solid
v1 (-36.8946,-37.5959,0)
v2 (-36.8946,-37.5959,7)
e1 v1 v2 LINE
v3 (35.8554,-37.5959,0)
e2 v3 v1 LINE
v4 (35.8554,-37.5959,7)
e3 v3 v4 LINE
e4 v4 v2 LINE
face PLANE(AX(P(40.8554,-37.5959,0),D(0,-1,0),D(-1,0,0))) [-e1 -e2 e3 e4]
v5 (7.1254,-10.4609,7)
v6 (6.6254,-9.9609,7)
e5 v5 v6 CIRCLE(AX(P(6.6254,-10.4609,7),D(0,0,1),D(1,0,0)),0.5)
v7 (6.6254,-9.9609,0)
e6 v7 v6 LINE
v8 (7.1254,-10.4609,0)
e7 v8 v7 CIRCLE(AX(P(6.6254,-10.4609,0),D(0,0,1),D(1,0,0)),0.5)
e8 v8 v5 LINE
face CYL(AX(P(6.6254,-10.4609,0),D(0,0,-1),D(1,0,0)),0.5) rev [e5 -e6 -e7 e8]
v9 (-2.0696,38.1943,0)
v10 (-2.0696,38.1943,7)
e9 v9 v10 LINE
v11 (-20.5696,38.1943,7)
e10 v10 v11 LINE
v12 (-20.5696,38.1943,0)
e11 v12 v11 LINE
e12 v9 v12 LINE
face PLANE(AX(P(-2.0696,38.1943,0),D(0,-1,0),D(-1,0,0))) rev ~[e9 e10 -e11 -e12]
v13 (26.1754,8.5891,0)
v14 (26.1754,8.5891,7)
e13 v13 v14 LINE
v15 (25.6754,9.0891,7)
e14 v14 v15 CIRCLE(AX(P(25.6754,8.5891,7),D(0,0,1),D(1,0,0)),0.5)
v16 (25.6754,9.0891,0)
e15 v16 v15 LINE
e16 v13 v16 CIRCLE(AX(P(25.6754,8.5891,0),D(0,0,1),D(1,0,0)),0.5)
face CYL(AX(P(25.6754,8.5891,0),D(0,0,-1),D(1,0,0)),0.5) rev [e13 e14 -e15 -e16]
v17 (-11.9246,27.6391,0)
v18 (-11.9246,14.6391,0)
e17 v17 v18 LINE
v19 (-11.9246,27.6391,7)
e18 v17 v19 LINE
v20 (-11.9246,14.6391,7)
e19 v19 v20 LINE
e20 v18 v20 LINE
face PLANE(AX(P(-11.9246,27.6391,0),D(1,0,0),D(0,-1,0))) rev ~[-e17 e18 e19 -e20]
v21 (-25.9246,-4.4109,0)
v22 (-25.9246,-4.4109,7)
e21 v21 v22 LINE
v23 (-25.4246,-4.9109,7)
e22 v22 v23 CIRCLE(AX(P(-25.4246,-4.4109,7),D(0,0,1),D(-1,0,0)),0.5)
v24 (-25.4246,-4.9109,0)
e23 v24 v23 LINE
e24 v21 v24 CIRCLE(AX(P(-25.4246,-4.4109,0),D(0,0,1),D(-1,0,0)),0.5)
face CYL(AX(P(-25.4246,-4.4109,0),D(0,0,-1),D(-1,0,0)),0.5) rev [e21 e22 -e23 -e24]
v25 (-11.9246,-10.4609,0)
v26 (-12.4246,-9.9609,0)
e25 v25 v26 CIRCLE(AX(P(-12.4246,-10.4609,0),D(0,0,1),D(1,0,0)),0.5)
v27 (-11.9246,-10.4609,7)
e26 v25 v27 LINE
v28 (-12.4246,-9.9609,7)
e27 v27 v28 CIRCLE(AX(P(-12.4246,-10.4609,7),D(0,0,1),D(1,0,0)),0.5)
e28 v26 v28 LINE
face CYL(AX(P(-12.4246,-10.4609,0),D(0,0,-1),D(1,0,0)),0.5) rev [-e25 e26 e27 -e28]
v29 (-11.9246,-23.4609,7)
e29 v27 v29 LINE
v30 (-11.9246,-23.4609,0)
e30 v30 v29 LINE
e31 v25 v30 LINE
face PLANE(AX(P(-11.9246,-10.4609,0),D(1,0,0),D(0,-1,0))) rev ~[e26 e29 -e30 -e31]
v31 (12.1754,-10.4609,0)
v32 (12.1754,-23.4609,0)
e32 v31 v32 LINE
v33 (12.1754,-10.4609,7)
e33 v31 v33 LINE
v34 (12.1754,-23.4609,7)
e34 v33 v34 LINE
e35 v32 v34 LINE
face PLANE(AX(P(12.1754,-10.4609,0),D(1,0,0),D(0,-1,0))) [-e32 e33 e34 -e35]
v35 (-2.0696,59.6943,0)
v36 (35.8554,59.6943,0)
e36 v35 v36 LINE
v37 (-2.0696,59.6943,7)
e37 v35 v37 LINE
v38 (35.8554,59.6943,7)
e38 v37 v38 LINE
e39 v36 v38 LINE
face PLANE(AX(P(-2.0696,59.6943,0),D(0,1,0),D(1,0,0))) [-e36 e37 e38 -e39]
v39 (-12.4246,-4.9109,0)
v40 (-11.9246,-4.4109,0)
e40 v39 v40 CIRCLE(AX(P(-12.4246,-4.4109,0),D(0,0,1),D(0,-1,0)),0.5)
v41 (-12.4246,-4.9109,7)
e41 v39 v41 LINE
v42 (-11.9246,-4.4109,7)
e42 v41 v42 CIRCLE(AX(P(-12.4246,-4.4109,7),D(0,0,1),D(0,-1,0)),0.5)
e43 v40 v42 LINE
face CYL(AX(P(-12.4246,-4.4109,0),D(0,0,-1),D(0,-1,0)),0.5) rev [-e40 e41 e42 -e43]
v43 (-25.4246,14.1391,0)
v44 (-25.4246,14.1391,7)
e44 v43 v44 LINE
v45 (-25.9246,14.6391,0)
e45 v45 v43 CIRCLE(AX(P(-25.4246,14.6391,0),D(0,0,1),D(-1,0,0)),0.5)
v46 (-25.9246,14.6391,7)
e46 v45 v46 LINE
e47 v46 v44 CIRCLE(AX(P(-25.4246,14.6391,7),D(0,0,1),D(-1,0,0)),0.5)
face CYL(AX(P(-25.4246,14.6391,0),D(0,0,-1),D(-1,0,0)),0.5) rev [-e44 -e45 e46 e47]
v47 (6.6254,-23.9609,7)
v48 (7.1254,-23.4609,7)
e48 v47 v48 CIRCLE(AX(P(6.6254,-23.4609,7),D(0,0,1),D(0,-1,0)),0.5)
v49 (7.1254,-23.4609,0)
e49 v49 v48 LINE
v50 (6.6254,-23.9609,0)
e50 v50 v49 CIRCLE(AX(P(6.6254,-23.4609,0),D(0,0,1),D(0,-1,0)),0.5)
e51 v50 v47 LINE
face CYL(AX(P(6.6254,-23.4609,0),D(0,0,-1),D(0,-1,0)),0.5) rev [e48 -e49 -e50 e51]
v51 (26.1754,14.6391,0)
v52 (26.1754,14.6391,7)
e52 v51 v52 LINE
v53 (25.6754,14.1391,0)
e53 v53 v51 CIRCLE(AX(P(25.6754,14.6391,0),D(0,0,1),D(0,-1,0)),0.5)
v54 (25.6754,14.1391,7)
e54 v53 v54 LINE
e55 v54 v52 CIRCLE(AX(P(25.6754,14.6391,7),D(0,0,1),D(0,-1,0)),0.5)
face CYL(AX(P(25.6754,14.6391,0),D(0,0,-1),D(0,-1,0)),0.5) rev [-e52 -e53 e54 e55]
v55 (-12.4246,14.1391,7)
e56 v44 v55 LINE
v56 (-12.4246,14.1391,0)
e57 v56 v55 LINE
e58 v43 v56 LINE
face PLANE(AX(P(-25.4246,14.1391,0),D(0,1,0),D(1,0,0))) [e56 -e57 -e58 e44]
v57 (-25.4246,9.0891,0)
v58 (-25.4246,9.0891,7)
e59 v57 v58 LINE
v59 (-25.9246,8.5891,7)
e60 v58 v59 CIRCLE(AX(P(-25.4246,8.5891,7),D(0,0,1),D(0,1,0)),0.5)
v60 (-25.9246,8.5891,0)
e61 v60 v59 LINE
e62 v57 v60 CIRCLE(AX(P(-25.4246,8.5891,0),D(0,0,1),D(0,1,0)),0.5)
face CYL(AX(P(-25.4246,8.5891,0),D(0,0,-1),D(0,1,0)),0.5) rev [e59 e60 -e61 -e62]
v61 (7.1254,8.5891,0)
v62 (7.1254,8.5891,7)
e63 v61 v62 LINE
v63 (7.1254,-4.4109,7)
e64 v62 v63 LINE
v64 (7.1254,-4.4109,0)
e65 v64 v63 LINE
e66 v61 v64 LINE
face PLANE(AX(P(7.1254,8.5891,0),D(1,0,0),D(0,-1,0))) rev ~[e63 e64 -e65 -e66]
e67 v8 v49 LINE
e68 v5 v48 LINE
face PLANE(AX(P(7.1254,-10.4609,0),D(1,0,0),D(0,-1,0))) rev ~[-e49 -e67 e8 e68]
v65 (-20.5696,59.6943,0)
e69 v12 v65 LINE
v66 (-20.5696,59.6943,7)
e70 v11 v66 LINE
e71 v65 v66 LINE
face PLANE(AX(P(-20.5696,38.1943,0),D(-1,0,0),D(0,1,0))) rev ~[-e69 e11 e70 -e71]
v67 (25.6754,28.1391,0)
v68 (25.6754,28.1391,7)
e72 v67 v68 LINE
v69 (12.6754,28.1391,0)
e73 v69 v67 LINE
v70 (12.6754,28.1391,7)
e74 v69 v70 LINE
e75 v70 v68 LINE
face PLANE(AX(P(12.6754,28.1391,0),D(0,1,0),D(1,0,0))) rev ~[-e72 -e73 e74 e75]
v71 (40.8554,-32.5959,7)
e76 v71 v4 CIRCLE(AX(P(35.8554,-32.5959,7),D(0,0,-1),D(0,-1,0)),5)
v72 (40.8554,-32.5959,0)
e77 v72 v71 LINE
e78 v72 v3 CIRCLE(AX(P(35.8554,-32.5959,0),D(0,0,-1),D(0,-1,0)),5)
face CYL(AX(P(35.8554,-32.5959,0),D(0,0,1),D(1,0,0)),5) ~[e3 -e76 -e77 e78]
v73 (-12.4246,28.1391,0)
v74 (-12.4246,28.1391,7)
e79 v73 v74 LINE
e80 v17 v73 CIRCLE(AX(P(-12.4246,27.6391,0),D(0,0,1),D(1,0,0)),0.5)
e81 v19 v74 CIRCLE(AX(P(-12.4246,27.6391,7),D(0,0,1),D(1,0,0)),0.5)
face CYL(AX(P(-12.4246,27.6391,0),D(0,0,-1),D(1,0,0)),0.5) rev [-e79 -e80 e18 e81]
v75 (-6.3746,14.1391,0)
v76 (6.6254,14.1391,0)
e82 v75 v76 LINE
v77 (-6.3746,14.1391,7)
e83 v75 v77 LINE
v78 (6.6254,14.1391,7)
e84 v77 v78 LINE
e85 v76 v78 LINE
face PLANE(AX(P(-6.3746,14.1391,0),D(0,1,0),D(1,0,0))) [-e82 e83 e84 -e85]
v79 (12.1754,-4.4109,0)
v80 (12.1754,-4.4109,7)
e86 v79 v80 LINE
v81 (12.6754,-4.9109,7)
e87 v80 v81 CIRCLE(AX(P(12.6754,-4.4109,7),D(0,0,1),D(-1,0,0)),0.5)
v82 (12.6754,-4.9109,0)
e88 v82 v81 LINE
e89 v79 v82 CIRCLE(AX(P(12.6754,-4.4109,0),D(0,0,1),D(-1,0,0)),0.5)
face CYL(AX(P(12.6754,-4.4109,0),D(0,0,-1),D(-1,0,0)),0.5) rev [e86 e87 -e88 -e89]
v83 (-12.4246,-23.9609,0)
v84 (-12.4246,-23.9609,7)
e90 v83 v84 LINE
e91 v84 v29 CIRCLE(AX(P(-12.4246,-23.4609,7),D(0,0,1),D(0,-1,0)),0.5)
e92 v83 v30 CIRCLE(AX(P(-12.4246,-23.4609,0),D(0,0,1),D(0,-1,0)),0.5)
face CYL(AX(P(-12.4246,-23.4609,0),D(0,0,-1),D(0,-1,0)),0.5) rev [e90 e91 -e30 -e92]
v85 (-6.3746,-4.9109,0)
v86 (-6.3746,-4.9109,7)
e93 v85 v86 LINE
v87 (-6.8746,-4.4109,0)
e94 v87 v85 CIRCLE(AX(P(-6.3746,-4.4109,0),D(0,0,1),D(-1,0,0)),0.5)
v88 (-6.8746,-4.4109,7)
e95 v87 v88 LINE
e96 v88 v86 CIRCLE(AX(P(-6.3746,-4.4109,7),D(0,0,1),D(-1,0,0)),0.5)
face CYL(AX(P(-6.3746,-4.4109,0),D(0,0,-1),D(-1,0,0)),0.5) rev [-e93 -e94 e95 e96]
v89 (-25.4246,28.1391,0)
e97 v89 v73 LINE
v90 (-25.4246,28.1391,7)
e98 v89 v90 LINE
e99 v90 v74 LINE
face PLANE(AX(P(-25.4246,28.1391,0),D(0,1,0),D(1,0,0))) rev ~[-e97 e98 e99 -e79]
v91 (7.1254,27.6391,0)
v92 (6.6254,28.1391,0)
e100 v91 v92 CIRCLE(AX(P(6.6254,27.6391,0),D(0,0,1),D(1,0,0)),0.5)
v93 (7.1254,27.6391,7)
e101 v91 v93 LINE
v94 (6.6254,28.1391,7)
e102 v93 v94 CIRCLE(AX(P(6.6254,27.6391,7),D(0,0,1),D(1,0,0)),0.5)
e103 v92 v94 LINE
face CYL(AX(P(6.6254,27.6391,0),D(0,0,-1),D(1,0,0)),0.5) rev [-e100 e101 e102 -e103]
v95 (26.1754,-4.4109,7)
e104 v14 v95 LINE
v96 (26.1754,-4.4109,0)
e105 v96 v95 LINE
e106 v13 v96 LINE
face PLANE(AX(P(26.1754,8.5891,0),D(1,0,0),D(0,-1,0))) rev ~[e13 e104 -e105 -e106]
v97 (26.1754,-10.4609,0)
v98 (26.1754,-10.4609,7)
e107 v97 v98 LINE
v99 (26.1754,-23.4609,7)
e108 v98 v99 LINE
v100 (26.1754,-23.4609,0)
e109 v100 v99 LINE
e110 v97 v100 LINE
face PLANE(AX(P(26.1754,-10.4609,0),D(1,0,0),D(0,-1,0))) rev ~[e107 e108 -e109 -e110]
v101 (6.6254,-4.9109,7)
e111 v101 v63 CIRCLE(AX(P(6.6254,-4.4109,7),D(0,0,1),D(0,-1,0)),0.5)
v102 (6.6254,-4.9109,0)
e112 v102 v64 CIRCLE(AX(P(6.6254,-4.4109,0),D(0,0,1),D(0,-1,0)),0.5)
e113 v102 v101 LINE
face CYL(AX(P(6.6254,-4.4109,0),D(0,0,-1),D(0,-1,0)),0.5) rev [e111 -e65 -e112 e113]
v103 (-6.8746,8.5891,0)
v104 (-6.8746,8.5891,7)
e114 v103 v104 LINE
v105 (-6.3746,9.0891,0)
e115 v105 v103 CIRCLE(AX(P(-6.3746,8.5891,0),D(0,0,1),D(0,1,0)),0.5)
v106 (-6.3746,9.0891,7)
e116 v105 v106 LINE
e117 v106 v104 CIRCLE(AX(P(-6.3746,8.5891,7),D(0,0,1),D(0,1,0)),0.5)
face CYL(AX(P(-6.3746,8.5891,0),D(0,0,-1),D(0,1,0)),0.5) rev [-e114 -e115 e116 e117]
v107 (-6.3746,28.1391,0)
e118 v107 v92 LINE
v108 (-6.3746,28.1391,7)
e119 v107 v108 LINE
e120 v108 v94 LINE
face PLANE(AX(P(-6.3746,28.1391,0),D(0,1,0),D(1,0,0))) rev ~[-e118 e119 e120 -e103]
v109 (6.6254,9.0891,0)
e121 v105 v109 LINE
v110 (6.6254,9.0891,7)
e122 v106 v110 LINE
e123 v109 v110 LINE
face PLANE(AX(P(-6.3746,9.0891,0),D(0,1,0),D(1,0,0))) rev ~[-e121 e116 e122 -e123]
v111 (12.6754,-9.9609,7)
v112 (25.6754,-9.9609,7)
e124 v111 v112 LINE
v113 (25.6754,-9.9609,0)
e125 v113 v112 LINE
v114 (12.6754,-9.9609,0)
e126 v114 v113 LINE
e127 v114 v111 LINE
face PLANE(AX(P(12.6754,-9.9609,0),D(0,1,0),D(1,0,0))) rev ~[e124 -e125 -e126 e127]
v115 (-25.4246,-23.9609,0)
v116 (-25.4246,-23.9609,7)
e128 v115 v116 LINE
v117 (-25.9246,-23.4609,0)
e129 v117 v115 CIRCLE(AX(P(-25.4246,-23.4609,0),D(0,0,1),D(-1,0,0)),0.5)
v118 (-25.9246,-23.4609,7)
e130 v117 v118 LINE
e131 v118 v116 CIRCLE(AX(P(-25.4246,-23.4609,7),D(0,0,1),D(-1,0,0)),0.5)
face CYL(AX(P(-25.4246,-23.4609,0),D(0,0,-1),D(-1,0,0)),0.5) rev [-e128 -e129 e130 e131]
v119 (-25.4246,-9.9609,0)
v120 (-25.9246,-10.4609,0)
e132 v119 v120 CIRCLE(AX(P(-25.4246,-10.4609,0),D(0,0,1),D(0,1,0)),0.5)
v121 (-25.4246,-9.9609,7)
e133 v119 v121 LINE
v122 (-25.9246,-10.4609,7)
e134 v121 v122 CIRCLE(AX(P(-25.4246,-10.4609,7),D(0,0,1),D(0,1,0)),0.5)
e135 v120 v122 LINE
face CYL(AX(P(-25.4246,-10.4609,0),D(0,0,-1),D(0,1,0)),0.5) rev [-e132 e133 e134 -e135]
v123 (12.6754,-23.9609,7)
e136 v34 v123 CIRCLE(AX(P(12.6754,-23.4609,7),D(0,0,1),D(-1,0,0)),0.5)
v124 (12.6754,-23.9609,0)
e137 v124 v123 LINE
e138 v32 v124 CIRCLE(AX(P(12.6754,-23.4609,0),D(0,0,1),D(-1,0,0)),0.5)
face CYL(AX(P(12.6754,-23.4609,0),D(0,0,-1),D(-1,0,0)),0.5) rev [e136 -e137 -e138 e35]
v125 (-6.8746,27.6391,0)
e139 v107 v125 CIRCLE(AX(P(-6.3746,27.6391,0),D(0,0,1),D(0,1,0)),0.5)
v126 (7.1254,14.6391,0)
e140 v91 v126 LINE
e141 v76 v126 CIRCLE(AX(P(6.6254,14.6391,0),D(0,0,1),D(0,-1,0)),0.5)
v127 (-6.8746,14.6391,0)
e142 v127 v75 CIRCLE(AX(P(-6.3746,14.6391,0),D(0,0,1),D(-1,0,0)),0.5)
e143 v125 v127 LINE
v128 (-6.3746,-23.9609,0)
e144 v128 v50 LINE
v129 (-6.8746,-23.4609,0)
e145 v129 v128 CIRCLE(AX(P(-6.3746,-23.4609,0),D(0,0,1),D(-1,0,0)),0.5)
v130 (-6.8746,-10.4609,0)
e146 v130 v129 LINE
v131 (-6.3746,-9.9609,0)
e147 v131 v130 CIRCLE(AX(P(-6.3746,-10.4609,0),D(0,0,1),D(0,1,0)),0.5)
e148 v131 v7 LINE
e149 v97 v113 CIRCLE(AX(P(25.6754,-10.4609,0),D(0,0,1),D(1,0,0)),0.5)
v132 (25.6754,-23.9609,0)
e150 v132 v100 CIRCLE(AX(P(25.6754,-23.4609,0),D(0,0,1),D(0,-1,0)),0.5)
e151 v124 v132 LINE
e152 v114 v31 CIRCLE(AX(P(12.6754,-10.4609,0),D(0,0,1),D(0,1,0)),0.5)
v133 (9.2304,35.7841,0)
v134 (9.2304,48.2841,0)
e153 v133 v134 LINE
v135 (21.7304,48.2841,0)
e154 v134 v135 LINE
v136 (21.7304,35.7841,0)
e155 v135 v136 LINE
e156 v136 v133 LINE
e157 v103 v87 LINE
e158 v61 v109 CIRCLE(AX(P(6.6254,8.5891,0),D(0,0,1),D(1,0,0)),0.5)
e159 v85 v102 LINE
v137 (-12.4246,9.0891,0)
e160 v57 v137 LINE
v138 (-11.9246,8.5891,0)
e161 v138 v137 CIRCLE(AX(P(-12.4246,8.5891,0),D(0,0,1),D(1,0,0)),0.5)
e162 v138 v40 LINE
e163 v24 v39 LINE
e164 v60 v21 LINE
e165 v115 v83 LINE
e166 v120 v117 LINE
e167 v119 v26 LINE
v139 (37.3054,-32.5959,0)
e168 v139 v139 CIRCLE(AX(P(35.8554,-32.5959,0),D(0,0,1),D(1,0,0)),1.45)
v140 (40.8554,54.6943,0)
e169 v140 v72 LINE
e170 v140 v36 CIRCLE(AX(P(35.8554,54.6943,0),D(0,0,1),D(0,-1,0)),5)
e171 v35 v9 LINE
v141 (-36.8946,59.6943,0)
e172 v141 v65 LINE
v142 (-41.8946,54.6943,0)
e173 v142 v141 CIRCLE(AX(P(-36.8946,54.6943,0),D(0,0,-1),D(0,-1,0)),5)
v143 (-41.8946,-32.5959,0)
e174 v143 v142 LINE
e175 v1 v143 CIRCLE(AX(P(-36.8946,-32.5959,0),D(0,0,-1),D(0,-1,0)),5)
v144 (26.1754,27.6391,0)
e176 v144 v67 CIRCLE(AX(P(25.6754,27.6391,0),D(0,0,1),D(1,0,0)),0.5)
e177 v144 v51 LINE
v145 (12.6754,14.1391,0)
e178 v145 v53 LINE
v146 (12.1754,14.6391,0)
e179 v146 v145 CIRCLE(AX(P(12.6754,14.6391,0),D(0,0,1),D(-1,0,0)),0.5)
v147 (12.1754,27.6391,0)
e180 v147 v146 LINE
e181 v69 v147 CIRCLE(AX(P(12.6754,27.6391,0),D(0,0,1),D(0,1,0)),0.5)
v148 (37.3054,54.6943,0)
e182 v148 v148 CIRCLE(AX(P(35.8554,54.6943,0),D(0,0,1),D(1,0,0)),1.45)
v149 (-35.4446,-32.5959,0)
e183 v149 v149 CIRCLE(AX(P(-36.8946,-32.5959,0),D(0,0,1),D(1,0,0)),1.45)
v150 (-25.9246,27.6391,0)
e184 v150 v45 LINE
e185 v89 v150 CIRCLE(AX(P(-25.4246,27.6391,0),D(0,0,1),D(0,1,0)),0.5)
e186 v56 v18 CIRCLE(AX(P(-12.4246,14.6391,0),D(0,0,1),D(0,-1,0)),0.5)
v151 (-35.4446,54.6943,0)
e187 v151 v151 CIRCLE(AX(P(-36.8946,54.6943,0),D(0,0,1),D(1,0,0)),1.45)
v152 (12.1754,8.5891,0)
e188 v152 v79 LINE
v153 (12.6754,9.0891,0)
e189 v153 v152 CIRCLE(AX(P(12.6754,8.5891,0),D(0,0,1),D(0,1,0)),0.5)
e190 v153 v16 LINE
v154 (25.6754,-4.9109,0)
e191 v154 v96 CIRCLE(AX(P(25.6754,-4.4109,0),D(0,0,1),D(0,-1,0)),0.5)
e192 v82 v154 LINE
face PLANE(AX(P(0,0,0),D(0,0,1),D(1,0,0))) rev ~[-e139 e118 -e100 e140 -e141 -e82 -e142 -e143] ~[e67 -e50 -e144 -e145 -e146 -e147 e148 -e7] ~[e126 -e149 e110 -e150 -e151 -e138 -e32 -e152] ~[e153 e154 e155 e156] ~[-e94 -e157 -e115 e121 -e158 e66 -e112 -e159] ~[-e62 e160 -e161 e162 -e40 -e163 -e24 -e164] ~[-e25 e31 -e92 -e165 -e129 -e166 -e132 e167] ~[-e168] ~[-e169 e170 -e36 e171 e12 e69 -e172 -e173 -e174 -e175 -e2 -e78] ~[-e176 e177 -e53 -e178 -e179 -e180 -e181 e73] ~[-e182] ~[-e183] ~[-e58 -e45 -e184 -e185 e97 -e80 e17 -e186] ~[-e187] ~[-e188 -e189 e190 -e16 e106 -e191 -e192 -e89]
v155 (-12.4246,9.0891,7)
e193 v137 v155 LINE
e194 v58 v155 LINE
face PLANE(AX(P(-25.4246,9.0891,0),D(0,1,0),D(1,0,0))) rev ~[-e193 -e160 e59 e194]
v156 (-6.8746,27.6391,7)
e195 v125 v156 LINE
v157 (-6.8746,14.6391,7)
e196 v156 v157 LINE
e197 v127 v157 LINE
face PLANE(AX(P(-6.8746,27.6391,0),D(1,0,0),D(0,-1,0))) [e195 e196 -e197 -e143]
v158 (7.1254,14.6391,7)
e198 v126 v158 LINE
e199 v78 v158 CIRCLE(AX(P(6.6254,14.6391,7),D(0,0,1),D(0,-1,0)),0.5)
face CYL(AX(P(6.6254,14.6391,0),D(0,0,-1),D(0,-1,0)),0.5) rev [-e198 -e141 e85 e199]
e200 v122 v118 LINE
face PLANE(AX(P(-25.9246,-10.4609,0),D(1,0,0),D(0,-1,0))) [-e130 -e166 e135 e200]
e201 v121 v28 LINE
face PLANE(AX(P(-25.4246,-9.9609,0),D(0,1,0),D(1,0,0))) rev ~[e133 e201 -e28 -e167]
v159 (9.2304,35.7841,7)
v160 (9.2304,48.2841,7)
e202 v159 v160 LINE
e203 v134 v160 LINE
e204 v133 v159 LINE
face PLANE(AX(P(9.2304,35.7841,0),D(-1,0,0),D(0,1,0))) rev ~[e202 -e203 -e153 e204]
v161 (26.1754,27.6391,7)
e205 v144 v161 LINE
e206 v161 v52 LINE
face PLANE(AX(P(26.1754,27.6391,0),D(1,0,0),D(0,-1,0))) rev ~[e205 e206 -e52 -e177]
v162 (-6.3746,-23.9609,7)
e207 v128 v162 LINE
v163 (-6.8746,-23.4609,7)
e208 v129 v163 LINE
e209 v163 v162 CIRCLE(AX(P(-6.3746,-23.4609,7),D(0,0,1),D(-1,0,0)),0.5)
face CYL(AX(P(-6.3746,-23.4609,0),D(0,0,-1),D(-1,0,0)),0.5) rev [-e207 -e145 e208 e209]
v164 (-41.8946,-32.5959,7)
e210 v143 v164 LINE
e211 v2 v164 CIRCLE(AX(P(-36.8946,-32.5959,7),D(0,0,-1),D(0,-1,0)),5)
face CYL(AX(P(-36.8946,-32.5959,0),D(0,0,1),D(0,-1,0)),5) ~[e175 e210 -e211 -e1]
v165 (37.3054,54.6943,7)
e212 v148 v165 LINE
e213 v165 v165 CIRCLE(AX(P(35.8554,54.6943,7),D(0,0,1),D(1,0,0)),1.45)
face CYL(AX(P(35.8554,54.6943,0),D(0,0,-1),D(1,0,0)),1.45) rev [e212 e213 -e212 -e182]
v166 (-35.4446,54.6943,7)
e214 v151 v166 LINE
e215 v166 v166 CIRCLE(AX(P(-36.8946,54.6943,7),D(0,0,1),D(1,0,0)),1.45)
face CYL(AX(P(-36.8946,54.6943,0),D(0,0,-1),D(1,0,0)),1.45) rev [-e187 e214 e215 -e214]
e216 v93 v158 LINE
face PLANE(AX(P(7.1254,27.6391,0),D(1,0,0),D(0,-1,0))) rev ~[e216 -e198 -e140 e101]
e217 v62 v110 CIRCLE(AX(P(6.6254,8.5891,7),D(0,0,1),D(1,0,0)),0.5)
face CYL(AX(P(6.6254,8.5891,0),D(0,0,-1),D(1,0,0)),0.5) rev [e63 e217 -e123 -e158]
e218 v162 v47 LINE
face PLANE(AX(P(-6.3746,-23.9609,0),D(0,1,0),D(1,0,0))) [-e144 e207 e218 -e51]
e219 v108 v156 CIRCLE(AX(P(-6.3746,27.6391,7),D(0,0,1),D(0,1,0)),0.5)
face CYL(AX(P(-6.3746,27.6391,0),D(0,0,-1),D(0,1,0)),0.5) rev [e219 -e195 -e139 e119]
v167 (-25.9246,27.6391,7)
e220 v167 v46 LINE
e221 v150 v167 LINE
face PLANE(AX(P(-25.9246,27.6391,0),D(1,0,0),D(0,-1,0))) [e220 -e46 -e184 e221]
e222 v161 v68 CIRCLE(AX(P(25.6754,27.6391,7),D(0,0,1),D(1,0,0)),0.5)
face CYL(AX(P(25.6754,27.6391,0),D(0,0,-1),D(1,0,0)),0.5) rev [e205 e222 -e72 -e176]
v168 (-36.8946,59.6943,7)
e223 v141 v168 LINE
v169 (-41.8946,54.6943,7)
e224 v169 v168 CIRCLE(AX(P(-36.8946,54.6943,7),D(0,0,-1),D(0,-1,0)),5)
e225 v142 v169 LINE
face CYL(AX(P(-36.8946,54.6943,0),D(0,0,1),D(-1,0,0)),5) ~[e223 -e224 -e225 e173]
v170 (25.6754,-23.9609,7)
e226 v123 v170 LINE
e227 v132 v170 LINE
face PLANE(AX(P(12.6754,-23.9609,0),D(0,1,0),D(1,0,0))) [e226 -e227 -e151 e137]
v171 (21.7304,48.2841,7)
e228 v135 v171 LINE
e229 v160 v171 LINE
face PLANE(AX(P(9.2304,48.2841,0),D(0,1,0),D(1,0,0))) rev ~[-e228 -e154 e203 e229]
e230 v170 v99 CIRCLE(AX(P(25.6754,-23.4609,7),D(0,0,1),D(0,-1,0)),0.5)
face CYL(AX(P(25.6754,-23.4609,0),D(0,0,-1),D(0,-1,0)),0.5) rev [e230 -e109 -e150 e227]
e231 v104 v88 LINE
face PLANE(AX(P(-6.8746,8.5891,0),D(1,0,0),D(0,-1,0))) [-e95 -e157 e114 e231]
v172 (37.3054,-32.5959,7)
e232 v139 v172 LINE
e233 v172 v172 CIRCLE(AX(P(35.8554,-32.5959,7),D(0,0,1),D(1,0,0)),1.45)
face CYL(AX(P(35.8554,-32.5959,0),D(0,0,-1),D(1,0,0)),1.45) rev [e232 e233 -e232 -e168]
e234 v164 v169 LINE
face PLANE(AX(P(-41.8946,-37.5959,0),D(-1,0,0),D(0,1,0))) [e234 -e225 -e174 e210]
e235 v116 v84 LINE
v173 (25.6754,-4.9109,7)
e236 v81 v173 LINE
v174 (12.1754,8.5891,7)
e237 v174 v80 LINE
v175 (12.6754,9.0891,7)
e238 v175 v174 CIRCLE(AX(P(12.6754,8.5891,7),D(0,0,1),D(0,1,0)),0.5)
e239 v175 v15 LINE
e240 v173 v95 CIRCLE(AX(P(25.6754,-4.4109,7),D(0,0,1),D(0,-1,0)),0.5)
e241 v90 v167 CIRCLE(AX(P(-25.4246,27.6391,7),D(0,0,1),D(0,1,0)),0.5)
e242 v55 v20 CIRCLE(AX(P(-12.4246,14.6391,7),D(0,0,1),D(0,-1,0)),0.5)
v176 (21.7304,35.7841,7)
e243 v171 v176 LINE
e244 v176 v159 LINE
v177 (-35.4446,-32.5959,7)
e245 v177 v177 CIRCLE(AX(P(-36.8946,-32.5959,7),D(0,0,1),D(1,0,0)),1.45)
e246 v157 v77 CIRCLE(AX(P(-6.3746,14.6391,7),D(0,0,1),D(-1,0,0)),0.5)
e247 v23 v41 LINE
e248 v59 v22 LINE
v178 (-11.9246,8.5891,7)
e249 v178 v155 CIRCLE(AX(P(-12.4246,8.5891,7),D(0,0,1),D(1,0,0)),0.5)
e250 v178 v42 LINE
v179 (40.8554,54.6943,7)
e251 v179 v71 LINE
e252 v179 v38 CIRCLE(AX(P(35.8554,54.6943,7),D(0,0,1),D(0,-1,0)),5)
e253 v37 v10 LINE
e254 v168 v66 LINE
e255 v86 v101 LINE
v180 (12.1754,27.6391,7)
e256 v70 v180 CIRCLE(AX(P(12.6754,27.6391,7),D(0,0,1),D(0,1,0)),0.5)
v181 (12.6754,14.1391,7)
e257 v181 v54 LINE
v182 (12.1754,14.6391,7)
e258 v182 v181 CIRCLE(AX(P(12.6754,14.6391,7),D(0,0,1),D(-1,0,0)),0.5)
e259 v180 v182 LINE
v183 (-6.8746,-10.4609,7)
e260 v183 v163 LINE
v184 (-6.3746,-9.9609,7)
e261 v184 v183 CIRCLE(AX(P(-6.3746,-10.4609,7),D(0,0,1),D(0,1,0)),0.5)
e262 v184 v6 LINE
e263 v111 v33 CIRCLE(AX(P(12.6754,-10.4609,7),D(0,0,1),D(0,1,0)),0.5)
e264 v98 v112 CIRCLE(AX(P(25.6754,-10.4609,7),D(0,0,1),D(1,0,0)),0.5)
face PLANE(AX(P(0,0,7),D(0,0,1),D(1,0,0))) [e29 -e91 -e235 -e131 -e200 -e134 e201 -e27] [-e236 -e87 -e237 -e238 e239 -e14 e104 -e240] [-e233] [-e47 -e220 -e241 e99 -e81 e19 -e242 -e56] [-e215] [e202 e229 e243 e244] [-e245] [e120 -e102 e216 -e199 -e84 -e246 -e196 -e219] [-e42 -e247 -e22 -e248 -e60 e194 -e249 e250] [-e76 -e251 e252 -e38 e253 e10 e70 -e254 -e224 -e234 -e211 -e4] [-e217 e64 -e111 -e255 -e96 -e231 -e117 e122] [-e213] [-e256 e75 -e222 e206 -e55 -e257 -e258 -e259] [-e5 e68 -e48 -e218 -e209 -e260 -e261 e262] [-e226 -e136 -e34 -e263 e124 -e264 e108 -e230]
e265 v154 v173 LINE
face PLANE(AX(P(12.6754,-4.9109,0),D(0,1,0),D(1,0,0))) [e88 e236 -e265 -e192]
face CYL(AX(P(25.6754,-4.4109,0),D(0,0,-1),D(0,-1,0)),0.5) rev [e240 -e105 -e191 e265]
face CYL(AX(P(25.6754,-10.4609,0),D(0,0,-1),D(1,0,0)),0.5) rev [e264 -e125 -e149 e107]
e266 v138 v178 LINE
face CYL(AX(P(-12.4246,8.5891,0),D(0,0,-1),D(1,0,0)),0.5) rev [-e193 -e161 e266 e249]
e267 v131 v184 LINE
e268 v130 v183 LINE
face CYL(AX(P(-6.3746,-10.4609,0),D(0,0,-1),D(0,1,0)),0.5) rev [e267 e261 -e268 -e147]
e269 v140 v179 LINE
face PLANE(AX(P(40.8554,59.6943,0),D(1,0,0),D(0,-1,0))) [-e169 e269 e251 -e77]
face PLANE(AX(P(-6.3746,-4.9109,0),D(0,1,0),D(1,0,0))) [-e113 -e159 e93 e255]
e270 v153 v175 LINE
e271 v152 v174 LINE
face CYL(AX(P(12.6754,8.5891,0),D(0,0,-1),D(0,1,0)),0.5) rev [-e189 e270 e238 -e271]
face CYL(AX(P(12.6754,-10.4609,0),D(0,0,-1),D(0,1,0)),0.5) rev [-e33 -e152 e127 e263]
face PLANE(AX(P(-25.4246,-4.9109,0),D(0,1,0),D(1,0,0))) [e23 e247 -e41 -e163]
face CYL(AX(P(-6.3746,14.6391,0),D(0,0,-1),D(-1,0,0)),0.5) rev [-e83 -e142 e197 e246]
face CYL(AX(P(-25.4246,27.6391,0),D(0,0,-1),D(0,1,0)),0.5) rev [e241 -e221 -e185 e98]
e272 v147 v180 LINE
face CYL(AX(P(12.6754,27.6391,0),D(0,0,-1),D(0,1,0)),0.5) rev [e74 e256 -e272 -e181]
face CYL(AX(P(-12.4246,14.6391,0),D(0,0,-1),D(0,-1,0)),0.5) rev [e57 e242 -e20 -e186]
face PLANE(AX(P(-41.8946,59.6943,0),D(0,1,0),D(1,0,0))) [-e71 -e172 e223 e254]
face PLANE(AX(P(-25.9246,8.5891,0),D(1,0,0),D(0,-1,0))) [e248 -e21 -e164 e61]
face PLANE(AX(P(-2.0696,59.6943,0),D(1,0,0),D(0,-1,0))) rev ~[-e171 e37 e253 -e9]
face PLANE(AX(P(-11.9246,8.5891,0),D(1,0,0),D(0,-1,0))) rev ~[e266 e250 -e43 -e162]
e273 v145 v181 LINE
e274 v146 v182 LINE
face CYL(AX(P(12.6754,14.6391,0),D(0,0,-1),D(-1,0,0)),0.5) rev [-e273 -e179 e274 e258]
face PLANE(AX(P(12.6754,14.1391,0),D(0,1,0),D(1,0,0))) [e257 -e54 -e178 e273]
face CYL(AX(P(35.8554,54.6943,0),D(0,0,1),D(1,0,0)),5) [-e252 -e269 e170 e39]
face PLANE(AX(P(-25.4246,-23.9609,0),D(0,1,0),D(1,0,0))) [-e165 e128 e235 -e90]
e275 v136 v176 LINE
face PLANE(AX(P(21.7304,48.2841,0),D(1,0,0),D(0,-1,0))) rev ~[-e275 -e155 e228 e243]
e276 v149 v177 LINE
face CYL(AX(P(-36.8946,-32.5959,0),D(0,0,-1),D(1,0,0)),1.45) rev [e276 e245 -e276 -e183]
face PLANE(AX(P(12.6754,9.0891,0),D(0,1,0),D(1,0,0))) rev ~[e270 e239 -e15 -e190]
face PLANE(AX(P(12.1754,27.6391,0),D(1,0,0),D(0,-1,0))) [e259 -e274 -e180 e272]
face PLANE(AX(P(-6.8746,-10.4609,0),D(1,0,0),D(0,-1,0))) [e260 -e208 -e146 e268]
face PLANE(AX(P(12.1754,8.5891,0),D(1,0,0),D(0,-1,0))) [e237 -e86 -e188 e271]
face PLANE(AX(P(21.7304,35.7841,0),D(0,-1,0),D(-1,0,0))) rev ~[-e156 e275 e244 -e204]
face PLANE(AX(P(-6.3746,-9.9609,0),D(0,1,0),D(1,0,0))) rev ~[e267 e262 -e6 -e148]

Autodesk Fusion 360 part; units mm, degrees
sketch "Sketch1" plane through (0, 0, 0) normal (0, 0, 1) x (1, 0, 0)
  line L0 (40.8554, 59.6943) -> (40.8554, -37.5959)
  line L1 (-41.8946, 59.6943) -> (40.8554, 59.6943)
  line L2 (-41.8946, -37.5959) -> (-41.8946, 59.6943)
  line L3 (40.8554, -37.5959) -> (-41.8946, -37.5959)
  line L4 (-25.4246, 28.1391) -> (-12.4246, 28.1391)
  line L5 (-25.4246, 14.1391) -> (-12.4246, 14.1391)
  line L6 (-25.9246, 27.6391) -> (-25.9246, 14.6391)
  line L7 (-11.9246, 27.6391) -> (-11.9246, 14.6391)
  arc A0 (-25.4246, 28.1391) -> (-25.9246, 27.6391) centre (-25.4246, 27.6391) ccw
  arc A1 (-11.9246, 27.6391) -> (-12.4246, 28.1391) centre (-12.4246, 27.6391) ccw
  arc A2 (-25.9246, 14.6391) -> (-25.4246, 14.1391) centre (-25.4246, 14.6391) ccw
  arc A3 (-12.4246, 14.1391) -> (-11.9246, 14.6391) centre (-12.4246, 14.6391) ccw
  line L8 (-6.3746, 28.1391) -> (6.6254, 28.1391)
  line L9 (-6.3746, 14.1391) -> (6.6254, 14.1391)
  line L10 (-6.8746, 27.6391) -> (-6.8746, 14.6391)
  line L11 (7.1254, 27.6391) -> (7.1254, 14.6391)
  arc A4 (-6.3746, 28.1391) -> (-6.8746, 27.6391) centre (-6.3746, 27.6391) ccw
  arc A5 (7.1254, 27.6391) -> (6.6254, 28.1391) centre (6.6254, 27.6391) ccw
  arc A6 (-6.8746, 14.6391) -> (-6.3746, 14.1391) centre (-6.3746, 14.6391) ccw
  arc A7 (6.6254, 14.1391) -> (7.1254, 14.6391) centre (6.6254, 14.6391) ccw
  line L12 (12.6754, 28.1391) -> (25.6754, 28.1391)
  line L13 (12.6754, 14.1391) -> (25.6754, 14.1391)
  line L14 (12.1754, 27.6391) -> (12.1754, 14.6391)
  line L15 (26.1754, 27.6391) -> (26.1754, 14.6391)
  arc A8 (12.6754, 28.1391) -> (12.1754, 27.6391) centre (12.6754, 27.6391) ccw
  arc A9 (26.1754, 27.6391) -> (25.6754, 28.1391) centre (25.6754, 27.6391) ccw
  arc A10 (12.1754, 14.6391) -> (12.6754, 14.1391) centre (12.6754, 14.6391) ccw
  arc A11 (25.6754, 14.1391) -> (26.1754, 14.6391) centre (25.6754, 14.6391) ccw
  line L16 (-25.4246, 9.0891) -> (-12.4246, 9.0891)
  line L17 (-25.4246, -4.9109) -> (-12.4246, -4.9109)
  line L18 (-25.9246, 8.5891) -> (-25.9246, -4.4109)
  line L19 (-11.9246, 8.5891) -> (-11.9246, -4.4109)
  arc A12 (-25.4246, 9.0891) -> (-25.9246, 8.5891) centre (-25.4246, 8.5891) ccw
  arc A13 (-11.9246, 8.5891) -> (-12.4246, 9.0891) centre (-12.4246, 8.5891) ccw
  arc A14 (-25.9246, -4.4109) -> (-25.4246, -4.9109) centre (-25.4246, -4.4109) ccw
  arc A15 (-12.4246, -4.9109) -> (-11.9246, -4.4109) centre (-12.4246, -4.4109) ccw
  line L20 (-6.3746, 9.0891) -> (6.6254, 9.0891)
  line L21 (-6.3746, -4.9109) -> (6.6254, -4.9109)
  line L22 (-6.8746, 8.5891) -> (-6.8746, -4.4109)
  line L23 (7.1254, 8.5891) -> (7.1254, -4.4109)
  arc A16 (-6.3746, 9.0891) -> (-6.8746, 8.5891) centre (-6.3746, 8.5891) ccw
  arc A17 (7.1254, 8.5891) -> (6.6254, 9.0891) centre (6.6254, 8.5891) ccw
  arc A18 (-6.8746, -4.4109) -> (-6.3746, -4.9109) centre (-6.3746, -4.4109) ccw
  arc A19 (6.6254, -4.9109) -> (7.1254, -4.4109) centre (6.6254, -4.4109) ccw
  line L24 (12.6754, 9.0891) -> (25.6754, 9.0891)
  line L25 (12.6754, -4.9109) -> (25.6754, -4.9109)
  line L26 (12.1754, 8.5891) -> (12.1754, -4.4109)
  line L27 (26.1754, 8.5891) -> (26.1754, -4.4109)
  arc A20 (12.6754, 9.0891) -> (12.1754, 8.5891) centre (12.6754, 8.5891) ccw
  arc A21 (26.1754, 8.5891) -> (25.6754, 9.0891) centre (25.6754, 8.5891) ccw
  arc A22 (12.1754, -4.4109) -> (12.6754, -4.9109) centre (12.6754, -4.4109) ccw
  arc A23 (25.6754, -4.9109) -> (26.1754, -4.4109) centre (25.6754, -4.4109) ccw
  line L28 (-25.4246, -9.9609) -> (-12.4246, -9.9609)
  line L29 (-25.4246, -23.9609) -> (-12.4246, -23.9609)
  line L30 (-25.9246, -10.4609) -> (-25.9246, -23.4609)
  line L31 (-11.9246, -10.4609) -> (-11.9246, -23.4609)
  arc A24 (-25.4246, -9.9609) -> (-25.9246, -10.4609) centre (-25.4246, -10.4609) ccw
  arc A25 (-11.9246, -10.4609) -> (-12.4246, -9.9609) centre (-12.4246, -10.4609) ccw
  arc A26 (-25.9246, -23.4609) -> (-25.4246, -23.9609) centre (-25.4246, -23.4609) ccw
  arc A27 (-12.4246, -23.9609) -> (-11.9246, -23.4609) centre (-12.4246, -23.4609) ccw
  line L32 (-6.3746, -9.9609) -> (6.6254, -9.9609)
  line L33 (-6.3746, -23.9609) -> (6.6254, -23.9609)
  line L34 (-6.8746, -10.4609) -> (-6.8746, -23.4609)
  line L35 (7.1254, -10.4609) -> (7.1254, -23.4609)
  arc A28 (-6.3746, -9.9609) -> (-6.8746, -10.4609) centre (-6.3746, -10.4609) ccw
  arc A29 (7.1254, -10.4609) -> (6.6254, -9.9609) centre (6.6254, -10.4609) ccw
  arc A30 (-6.8746, -23.4609) -> (-6.3746, -23.9609) centre (-6.3746, -23.4609) ccw
  arc A31 (6.6254, -23.9609) -> (7.1254, -23.4609) centre (6.6254, -23.4609) ccw
  line L36 (12.6754, -9.9609) -> (25.6754, -9.9609)
  line L37 (12.6754, -23.9609) -> (25.6754, -23.9609)
  line L38 (12.1754, -10.4609) -> (12.1754, -23.4609)
  line L39 (26.1754, -10.4609) -> (26.1754, -23.4609)
  arc A32 (12.6754, -9.9609) -> (12.1754, -10.4609) centre (12.6754, -10.4609) ccw
  arc A33 (26.1754, -10.4609) -> (25.6754, -9.9609) centre (25.6754, -10.4609) ccw
  arc A34 (12.1754, -23.4609) -> (12.6754, -23.9609) centre (12.6754, -23.4609) ccw
  arc A35 (25.6754, -23.9609) -> (26.1754, -23.4609) centre (25.6754, -23.4609) ccw
  line L40 (9.2304, 48.2841) -> (21.7304, 48.2841)
  line L41 (21.7304, 48.2841) -> (21.7304, 35.7841)
  line L42 (21.7304, 35.7841) -> (9.2304, 35.7841)
  line L43 (9.2304, 35.7841) -> (9.2304, 48.2841)
  line L44 (-20.5696, 59.6943) -> (-2.0696, 59.6943)
  line L45 (-2.0696, 59.6943) -> (-2.0696, 38.1943)
  line L46 (-2.0696, 38.1943) -> (-20.5696, 38.1943)
  line L47 (-20.5696, 38.1943) -> (-20.5696, 59.6943)
  circle A36 centre (-36.8946, 54.6943) radius 1.45
  circle A37 centre (35.8554, 54.6943) radius 1.45
  circle A38 centre (35.8554, -32.5959) radius 1.45
  circle A39 centre (-36.8946, -32.5959) radius 1.45
  dimension "d1" = 14.68
  dimension "d2" = 13.635
  dimension "d3" = 12.5
  dimension "d4" = 12.5
  dimension "d5" = 19.125
  dimension "d6" = 7.645
  dimension "d7" = 18.5
  dimension "d8" = 21.5
  dimension "d9" = 11.3
  dimension "d10" = 2.9
  dimension "d11" = 5
  dimension "d12" = 5
  dimension "d13" = 2.9
  dimension "d14" = 5
  dimension "d15" = 5
  dimension "d16" = 2.9
  dimension "d17" = 5
  dimension "d18" = 5
  dimension "d19" = 2.9
  dimension "d20" = 5
  dimension "d21" = 5
extrude "Extrude1" add sketch "Sketch1" along normal blind 7 contours L0 L1 L2 L3 L45 L46 L47
fillet "Fillet1" radius 5 4 edges at (-41.8946, 59.6943, 3.5) (-41.8946, -37.5959, 3.5) (40.8554, -37.5959, 3.5) (40.8554, 59.6943, 3.5)
